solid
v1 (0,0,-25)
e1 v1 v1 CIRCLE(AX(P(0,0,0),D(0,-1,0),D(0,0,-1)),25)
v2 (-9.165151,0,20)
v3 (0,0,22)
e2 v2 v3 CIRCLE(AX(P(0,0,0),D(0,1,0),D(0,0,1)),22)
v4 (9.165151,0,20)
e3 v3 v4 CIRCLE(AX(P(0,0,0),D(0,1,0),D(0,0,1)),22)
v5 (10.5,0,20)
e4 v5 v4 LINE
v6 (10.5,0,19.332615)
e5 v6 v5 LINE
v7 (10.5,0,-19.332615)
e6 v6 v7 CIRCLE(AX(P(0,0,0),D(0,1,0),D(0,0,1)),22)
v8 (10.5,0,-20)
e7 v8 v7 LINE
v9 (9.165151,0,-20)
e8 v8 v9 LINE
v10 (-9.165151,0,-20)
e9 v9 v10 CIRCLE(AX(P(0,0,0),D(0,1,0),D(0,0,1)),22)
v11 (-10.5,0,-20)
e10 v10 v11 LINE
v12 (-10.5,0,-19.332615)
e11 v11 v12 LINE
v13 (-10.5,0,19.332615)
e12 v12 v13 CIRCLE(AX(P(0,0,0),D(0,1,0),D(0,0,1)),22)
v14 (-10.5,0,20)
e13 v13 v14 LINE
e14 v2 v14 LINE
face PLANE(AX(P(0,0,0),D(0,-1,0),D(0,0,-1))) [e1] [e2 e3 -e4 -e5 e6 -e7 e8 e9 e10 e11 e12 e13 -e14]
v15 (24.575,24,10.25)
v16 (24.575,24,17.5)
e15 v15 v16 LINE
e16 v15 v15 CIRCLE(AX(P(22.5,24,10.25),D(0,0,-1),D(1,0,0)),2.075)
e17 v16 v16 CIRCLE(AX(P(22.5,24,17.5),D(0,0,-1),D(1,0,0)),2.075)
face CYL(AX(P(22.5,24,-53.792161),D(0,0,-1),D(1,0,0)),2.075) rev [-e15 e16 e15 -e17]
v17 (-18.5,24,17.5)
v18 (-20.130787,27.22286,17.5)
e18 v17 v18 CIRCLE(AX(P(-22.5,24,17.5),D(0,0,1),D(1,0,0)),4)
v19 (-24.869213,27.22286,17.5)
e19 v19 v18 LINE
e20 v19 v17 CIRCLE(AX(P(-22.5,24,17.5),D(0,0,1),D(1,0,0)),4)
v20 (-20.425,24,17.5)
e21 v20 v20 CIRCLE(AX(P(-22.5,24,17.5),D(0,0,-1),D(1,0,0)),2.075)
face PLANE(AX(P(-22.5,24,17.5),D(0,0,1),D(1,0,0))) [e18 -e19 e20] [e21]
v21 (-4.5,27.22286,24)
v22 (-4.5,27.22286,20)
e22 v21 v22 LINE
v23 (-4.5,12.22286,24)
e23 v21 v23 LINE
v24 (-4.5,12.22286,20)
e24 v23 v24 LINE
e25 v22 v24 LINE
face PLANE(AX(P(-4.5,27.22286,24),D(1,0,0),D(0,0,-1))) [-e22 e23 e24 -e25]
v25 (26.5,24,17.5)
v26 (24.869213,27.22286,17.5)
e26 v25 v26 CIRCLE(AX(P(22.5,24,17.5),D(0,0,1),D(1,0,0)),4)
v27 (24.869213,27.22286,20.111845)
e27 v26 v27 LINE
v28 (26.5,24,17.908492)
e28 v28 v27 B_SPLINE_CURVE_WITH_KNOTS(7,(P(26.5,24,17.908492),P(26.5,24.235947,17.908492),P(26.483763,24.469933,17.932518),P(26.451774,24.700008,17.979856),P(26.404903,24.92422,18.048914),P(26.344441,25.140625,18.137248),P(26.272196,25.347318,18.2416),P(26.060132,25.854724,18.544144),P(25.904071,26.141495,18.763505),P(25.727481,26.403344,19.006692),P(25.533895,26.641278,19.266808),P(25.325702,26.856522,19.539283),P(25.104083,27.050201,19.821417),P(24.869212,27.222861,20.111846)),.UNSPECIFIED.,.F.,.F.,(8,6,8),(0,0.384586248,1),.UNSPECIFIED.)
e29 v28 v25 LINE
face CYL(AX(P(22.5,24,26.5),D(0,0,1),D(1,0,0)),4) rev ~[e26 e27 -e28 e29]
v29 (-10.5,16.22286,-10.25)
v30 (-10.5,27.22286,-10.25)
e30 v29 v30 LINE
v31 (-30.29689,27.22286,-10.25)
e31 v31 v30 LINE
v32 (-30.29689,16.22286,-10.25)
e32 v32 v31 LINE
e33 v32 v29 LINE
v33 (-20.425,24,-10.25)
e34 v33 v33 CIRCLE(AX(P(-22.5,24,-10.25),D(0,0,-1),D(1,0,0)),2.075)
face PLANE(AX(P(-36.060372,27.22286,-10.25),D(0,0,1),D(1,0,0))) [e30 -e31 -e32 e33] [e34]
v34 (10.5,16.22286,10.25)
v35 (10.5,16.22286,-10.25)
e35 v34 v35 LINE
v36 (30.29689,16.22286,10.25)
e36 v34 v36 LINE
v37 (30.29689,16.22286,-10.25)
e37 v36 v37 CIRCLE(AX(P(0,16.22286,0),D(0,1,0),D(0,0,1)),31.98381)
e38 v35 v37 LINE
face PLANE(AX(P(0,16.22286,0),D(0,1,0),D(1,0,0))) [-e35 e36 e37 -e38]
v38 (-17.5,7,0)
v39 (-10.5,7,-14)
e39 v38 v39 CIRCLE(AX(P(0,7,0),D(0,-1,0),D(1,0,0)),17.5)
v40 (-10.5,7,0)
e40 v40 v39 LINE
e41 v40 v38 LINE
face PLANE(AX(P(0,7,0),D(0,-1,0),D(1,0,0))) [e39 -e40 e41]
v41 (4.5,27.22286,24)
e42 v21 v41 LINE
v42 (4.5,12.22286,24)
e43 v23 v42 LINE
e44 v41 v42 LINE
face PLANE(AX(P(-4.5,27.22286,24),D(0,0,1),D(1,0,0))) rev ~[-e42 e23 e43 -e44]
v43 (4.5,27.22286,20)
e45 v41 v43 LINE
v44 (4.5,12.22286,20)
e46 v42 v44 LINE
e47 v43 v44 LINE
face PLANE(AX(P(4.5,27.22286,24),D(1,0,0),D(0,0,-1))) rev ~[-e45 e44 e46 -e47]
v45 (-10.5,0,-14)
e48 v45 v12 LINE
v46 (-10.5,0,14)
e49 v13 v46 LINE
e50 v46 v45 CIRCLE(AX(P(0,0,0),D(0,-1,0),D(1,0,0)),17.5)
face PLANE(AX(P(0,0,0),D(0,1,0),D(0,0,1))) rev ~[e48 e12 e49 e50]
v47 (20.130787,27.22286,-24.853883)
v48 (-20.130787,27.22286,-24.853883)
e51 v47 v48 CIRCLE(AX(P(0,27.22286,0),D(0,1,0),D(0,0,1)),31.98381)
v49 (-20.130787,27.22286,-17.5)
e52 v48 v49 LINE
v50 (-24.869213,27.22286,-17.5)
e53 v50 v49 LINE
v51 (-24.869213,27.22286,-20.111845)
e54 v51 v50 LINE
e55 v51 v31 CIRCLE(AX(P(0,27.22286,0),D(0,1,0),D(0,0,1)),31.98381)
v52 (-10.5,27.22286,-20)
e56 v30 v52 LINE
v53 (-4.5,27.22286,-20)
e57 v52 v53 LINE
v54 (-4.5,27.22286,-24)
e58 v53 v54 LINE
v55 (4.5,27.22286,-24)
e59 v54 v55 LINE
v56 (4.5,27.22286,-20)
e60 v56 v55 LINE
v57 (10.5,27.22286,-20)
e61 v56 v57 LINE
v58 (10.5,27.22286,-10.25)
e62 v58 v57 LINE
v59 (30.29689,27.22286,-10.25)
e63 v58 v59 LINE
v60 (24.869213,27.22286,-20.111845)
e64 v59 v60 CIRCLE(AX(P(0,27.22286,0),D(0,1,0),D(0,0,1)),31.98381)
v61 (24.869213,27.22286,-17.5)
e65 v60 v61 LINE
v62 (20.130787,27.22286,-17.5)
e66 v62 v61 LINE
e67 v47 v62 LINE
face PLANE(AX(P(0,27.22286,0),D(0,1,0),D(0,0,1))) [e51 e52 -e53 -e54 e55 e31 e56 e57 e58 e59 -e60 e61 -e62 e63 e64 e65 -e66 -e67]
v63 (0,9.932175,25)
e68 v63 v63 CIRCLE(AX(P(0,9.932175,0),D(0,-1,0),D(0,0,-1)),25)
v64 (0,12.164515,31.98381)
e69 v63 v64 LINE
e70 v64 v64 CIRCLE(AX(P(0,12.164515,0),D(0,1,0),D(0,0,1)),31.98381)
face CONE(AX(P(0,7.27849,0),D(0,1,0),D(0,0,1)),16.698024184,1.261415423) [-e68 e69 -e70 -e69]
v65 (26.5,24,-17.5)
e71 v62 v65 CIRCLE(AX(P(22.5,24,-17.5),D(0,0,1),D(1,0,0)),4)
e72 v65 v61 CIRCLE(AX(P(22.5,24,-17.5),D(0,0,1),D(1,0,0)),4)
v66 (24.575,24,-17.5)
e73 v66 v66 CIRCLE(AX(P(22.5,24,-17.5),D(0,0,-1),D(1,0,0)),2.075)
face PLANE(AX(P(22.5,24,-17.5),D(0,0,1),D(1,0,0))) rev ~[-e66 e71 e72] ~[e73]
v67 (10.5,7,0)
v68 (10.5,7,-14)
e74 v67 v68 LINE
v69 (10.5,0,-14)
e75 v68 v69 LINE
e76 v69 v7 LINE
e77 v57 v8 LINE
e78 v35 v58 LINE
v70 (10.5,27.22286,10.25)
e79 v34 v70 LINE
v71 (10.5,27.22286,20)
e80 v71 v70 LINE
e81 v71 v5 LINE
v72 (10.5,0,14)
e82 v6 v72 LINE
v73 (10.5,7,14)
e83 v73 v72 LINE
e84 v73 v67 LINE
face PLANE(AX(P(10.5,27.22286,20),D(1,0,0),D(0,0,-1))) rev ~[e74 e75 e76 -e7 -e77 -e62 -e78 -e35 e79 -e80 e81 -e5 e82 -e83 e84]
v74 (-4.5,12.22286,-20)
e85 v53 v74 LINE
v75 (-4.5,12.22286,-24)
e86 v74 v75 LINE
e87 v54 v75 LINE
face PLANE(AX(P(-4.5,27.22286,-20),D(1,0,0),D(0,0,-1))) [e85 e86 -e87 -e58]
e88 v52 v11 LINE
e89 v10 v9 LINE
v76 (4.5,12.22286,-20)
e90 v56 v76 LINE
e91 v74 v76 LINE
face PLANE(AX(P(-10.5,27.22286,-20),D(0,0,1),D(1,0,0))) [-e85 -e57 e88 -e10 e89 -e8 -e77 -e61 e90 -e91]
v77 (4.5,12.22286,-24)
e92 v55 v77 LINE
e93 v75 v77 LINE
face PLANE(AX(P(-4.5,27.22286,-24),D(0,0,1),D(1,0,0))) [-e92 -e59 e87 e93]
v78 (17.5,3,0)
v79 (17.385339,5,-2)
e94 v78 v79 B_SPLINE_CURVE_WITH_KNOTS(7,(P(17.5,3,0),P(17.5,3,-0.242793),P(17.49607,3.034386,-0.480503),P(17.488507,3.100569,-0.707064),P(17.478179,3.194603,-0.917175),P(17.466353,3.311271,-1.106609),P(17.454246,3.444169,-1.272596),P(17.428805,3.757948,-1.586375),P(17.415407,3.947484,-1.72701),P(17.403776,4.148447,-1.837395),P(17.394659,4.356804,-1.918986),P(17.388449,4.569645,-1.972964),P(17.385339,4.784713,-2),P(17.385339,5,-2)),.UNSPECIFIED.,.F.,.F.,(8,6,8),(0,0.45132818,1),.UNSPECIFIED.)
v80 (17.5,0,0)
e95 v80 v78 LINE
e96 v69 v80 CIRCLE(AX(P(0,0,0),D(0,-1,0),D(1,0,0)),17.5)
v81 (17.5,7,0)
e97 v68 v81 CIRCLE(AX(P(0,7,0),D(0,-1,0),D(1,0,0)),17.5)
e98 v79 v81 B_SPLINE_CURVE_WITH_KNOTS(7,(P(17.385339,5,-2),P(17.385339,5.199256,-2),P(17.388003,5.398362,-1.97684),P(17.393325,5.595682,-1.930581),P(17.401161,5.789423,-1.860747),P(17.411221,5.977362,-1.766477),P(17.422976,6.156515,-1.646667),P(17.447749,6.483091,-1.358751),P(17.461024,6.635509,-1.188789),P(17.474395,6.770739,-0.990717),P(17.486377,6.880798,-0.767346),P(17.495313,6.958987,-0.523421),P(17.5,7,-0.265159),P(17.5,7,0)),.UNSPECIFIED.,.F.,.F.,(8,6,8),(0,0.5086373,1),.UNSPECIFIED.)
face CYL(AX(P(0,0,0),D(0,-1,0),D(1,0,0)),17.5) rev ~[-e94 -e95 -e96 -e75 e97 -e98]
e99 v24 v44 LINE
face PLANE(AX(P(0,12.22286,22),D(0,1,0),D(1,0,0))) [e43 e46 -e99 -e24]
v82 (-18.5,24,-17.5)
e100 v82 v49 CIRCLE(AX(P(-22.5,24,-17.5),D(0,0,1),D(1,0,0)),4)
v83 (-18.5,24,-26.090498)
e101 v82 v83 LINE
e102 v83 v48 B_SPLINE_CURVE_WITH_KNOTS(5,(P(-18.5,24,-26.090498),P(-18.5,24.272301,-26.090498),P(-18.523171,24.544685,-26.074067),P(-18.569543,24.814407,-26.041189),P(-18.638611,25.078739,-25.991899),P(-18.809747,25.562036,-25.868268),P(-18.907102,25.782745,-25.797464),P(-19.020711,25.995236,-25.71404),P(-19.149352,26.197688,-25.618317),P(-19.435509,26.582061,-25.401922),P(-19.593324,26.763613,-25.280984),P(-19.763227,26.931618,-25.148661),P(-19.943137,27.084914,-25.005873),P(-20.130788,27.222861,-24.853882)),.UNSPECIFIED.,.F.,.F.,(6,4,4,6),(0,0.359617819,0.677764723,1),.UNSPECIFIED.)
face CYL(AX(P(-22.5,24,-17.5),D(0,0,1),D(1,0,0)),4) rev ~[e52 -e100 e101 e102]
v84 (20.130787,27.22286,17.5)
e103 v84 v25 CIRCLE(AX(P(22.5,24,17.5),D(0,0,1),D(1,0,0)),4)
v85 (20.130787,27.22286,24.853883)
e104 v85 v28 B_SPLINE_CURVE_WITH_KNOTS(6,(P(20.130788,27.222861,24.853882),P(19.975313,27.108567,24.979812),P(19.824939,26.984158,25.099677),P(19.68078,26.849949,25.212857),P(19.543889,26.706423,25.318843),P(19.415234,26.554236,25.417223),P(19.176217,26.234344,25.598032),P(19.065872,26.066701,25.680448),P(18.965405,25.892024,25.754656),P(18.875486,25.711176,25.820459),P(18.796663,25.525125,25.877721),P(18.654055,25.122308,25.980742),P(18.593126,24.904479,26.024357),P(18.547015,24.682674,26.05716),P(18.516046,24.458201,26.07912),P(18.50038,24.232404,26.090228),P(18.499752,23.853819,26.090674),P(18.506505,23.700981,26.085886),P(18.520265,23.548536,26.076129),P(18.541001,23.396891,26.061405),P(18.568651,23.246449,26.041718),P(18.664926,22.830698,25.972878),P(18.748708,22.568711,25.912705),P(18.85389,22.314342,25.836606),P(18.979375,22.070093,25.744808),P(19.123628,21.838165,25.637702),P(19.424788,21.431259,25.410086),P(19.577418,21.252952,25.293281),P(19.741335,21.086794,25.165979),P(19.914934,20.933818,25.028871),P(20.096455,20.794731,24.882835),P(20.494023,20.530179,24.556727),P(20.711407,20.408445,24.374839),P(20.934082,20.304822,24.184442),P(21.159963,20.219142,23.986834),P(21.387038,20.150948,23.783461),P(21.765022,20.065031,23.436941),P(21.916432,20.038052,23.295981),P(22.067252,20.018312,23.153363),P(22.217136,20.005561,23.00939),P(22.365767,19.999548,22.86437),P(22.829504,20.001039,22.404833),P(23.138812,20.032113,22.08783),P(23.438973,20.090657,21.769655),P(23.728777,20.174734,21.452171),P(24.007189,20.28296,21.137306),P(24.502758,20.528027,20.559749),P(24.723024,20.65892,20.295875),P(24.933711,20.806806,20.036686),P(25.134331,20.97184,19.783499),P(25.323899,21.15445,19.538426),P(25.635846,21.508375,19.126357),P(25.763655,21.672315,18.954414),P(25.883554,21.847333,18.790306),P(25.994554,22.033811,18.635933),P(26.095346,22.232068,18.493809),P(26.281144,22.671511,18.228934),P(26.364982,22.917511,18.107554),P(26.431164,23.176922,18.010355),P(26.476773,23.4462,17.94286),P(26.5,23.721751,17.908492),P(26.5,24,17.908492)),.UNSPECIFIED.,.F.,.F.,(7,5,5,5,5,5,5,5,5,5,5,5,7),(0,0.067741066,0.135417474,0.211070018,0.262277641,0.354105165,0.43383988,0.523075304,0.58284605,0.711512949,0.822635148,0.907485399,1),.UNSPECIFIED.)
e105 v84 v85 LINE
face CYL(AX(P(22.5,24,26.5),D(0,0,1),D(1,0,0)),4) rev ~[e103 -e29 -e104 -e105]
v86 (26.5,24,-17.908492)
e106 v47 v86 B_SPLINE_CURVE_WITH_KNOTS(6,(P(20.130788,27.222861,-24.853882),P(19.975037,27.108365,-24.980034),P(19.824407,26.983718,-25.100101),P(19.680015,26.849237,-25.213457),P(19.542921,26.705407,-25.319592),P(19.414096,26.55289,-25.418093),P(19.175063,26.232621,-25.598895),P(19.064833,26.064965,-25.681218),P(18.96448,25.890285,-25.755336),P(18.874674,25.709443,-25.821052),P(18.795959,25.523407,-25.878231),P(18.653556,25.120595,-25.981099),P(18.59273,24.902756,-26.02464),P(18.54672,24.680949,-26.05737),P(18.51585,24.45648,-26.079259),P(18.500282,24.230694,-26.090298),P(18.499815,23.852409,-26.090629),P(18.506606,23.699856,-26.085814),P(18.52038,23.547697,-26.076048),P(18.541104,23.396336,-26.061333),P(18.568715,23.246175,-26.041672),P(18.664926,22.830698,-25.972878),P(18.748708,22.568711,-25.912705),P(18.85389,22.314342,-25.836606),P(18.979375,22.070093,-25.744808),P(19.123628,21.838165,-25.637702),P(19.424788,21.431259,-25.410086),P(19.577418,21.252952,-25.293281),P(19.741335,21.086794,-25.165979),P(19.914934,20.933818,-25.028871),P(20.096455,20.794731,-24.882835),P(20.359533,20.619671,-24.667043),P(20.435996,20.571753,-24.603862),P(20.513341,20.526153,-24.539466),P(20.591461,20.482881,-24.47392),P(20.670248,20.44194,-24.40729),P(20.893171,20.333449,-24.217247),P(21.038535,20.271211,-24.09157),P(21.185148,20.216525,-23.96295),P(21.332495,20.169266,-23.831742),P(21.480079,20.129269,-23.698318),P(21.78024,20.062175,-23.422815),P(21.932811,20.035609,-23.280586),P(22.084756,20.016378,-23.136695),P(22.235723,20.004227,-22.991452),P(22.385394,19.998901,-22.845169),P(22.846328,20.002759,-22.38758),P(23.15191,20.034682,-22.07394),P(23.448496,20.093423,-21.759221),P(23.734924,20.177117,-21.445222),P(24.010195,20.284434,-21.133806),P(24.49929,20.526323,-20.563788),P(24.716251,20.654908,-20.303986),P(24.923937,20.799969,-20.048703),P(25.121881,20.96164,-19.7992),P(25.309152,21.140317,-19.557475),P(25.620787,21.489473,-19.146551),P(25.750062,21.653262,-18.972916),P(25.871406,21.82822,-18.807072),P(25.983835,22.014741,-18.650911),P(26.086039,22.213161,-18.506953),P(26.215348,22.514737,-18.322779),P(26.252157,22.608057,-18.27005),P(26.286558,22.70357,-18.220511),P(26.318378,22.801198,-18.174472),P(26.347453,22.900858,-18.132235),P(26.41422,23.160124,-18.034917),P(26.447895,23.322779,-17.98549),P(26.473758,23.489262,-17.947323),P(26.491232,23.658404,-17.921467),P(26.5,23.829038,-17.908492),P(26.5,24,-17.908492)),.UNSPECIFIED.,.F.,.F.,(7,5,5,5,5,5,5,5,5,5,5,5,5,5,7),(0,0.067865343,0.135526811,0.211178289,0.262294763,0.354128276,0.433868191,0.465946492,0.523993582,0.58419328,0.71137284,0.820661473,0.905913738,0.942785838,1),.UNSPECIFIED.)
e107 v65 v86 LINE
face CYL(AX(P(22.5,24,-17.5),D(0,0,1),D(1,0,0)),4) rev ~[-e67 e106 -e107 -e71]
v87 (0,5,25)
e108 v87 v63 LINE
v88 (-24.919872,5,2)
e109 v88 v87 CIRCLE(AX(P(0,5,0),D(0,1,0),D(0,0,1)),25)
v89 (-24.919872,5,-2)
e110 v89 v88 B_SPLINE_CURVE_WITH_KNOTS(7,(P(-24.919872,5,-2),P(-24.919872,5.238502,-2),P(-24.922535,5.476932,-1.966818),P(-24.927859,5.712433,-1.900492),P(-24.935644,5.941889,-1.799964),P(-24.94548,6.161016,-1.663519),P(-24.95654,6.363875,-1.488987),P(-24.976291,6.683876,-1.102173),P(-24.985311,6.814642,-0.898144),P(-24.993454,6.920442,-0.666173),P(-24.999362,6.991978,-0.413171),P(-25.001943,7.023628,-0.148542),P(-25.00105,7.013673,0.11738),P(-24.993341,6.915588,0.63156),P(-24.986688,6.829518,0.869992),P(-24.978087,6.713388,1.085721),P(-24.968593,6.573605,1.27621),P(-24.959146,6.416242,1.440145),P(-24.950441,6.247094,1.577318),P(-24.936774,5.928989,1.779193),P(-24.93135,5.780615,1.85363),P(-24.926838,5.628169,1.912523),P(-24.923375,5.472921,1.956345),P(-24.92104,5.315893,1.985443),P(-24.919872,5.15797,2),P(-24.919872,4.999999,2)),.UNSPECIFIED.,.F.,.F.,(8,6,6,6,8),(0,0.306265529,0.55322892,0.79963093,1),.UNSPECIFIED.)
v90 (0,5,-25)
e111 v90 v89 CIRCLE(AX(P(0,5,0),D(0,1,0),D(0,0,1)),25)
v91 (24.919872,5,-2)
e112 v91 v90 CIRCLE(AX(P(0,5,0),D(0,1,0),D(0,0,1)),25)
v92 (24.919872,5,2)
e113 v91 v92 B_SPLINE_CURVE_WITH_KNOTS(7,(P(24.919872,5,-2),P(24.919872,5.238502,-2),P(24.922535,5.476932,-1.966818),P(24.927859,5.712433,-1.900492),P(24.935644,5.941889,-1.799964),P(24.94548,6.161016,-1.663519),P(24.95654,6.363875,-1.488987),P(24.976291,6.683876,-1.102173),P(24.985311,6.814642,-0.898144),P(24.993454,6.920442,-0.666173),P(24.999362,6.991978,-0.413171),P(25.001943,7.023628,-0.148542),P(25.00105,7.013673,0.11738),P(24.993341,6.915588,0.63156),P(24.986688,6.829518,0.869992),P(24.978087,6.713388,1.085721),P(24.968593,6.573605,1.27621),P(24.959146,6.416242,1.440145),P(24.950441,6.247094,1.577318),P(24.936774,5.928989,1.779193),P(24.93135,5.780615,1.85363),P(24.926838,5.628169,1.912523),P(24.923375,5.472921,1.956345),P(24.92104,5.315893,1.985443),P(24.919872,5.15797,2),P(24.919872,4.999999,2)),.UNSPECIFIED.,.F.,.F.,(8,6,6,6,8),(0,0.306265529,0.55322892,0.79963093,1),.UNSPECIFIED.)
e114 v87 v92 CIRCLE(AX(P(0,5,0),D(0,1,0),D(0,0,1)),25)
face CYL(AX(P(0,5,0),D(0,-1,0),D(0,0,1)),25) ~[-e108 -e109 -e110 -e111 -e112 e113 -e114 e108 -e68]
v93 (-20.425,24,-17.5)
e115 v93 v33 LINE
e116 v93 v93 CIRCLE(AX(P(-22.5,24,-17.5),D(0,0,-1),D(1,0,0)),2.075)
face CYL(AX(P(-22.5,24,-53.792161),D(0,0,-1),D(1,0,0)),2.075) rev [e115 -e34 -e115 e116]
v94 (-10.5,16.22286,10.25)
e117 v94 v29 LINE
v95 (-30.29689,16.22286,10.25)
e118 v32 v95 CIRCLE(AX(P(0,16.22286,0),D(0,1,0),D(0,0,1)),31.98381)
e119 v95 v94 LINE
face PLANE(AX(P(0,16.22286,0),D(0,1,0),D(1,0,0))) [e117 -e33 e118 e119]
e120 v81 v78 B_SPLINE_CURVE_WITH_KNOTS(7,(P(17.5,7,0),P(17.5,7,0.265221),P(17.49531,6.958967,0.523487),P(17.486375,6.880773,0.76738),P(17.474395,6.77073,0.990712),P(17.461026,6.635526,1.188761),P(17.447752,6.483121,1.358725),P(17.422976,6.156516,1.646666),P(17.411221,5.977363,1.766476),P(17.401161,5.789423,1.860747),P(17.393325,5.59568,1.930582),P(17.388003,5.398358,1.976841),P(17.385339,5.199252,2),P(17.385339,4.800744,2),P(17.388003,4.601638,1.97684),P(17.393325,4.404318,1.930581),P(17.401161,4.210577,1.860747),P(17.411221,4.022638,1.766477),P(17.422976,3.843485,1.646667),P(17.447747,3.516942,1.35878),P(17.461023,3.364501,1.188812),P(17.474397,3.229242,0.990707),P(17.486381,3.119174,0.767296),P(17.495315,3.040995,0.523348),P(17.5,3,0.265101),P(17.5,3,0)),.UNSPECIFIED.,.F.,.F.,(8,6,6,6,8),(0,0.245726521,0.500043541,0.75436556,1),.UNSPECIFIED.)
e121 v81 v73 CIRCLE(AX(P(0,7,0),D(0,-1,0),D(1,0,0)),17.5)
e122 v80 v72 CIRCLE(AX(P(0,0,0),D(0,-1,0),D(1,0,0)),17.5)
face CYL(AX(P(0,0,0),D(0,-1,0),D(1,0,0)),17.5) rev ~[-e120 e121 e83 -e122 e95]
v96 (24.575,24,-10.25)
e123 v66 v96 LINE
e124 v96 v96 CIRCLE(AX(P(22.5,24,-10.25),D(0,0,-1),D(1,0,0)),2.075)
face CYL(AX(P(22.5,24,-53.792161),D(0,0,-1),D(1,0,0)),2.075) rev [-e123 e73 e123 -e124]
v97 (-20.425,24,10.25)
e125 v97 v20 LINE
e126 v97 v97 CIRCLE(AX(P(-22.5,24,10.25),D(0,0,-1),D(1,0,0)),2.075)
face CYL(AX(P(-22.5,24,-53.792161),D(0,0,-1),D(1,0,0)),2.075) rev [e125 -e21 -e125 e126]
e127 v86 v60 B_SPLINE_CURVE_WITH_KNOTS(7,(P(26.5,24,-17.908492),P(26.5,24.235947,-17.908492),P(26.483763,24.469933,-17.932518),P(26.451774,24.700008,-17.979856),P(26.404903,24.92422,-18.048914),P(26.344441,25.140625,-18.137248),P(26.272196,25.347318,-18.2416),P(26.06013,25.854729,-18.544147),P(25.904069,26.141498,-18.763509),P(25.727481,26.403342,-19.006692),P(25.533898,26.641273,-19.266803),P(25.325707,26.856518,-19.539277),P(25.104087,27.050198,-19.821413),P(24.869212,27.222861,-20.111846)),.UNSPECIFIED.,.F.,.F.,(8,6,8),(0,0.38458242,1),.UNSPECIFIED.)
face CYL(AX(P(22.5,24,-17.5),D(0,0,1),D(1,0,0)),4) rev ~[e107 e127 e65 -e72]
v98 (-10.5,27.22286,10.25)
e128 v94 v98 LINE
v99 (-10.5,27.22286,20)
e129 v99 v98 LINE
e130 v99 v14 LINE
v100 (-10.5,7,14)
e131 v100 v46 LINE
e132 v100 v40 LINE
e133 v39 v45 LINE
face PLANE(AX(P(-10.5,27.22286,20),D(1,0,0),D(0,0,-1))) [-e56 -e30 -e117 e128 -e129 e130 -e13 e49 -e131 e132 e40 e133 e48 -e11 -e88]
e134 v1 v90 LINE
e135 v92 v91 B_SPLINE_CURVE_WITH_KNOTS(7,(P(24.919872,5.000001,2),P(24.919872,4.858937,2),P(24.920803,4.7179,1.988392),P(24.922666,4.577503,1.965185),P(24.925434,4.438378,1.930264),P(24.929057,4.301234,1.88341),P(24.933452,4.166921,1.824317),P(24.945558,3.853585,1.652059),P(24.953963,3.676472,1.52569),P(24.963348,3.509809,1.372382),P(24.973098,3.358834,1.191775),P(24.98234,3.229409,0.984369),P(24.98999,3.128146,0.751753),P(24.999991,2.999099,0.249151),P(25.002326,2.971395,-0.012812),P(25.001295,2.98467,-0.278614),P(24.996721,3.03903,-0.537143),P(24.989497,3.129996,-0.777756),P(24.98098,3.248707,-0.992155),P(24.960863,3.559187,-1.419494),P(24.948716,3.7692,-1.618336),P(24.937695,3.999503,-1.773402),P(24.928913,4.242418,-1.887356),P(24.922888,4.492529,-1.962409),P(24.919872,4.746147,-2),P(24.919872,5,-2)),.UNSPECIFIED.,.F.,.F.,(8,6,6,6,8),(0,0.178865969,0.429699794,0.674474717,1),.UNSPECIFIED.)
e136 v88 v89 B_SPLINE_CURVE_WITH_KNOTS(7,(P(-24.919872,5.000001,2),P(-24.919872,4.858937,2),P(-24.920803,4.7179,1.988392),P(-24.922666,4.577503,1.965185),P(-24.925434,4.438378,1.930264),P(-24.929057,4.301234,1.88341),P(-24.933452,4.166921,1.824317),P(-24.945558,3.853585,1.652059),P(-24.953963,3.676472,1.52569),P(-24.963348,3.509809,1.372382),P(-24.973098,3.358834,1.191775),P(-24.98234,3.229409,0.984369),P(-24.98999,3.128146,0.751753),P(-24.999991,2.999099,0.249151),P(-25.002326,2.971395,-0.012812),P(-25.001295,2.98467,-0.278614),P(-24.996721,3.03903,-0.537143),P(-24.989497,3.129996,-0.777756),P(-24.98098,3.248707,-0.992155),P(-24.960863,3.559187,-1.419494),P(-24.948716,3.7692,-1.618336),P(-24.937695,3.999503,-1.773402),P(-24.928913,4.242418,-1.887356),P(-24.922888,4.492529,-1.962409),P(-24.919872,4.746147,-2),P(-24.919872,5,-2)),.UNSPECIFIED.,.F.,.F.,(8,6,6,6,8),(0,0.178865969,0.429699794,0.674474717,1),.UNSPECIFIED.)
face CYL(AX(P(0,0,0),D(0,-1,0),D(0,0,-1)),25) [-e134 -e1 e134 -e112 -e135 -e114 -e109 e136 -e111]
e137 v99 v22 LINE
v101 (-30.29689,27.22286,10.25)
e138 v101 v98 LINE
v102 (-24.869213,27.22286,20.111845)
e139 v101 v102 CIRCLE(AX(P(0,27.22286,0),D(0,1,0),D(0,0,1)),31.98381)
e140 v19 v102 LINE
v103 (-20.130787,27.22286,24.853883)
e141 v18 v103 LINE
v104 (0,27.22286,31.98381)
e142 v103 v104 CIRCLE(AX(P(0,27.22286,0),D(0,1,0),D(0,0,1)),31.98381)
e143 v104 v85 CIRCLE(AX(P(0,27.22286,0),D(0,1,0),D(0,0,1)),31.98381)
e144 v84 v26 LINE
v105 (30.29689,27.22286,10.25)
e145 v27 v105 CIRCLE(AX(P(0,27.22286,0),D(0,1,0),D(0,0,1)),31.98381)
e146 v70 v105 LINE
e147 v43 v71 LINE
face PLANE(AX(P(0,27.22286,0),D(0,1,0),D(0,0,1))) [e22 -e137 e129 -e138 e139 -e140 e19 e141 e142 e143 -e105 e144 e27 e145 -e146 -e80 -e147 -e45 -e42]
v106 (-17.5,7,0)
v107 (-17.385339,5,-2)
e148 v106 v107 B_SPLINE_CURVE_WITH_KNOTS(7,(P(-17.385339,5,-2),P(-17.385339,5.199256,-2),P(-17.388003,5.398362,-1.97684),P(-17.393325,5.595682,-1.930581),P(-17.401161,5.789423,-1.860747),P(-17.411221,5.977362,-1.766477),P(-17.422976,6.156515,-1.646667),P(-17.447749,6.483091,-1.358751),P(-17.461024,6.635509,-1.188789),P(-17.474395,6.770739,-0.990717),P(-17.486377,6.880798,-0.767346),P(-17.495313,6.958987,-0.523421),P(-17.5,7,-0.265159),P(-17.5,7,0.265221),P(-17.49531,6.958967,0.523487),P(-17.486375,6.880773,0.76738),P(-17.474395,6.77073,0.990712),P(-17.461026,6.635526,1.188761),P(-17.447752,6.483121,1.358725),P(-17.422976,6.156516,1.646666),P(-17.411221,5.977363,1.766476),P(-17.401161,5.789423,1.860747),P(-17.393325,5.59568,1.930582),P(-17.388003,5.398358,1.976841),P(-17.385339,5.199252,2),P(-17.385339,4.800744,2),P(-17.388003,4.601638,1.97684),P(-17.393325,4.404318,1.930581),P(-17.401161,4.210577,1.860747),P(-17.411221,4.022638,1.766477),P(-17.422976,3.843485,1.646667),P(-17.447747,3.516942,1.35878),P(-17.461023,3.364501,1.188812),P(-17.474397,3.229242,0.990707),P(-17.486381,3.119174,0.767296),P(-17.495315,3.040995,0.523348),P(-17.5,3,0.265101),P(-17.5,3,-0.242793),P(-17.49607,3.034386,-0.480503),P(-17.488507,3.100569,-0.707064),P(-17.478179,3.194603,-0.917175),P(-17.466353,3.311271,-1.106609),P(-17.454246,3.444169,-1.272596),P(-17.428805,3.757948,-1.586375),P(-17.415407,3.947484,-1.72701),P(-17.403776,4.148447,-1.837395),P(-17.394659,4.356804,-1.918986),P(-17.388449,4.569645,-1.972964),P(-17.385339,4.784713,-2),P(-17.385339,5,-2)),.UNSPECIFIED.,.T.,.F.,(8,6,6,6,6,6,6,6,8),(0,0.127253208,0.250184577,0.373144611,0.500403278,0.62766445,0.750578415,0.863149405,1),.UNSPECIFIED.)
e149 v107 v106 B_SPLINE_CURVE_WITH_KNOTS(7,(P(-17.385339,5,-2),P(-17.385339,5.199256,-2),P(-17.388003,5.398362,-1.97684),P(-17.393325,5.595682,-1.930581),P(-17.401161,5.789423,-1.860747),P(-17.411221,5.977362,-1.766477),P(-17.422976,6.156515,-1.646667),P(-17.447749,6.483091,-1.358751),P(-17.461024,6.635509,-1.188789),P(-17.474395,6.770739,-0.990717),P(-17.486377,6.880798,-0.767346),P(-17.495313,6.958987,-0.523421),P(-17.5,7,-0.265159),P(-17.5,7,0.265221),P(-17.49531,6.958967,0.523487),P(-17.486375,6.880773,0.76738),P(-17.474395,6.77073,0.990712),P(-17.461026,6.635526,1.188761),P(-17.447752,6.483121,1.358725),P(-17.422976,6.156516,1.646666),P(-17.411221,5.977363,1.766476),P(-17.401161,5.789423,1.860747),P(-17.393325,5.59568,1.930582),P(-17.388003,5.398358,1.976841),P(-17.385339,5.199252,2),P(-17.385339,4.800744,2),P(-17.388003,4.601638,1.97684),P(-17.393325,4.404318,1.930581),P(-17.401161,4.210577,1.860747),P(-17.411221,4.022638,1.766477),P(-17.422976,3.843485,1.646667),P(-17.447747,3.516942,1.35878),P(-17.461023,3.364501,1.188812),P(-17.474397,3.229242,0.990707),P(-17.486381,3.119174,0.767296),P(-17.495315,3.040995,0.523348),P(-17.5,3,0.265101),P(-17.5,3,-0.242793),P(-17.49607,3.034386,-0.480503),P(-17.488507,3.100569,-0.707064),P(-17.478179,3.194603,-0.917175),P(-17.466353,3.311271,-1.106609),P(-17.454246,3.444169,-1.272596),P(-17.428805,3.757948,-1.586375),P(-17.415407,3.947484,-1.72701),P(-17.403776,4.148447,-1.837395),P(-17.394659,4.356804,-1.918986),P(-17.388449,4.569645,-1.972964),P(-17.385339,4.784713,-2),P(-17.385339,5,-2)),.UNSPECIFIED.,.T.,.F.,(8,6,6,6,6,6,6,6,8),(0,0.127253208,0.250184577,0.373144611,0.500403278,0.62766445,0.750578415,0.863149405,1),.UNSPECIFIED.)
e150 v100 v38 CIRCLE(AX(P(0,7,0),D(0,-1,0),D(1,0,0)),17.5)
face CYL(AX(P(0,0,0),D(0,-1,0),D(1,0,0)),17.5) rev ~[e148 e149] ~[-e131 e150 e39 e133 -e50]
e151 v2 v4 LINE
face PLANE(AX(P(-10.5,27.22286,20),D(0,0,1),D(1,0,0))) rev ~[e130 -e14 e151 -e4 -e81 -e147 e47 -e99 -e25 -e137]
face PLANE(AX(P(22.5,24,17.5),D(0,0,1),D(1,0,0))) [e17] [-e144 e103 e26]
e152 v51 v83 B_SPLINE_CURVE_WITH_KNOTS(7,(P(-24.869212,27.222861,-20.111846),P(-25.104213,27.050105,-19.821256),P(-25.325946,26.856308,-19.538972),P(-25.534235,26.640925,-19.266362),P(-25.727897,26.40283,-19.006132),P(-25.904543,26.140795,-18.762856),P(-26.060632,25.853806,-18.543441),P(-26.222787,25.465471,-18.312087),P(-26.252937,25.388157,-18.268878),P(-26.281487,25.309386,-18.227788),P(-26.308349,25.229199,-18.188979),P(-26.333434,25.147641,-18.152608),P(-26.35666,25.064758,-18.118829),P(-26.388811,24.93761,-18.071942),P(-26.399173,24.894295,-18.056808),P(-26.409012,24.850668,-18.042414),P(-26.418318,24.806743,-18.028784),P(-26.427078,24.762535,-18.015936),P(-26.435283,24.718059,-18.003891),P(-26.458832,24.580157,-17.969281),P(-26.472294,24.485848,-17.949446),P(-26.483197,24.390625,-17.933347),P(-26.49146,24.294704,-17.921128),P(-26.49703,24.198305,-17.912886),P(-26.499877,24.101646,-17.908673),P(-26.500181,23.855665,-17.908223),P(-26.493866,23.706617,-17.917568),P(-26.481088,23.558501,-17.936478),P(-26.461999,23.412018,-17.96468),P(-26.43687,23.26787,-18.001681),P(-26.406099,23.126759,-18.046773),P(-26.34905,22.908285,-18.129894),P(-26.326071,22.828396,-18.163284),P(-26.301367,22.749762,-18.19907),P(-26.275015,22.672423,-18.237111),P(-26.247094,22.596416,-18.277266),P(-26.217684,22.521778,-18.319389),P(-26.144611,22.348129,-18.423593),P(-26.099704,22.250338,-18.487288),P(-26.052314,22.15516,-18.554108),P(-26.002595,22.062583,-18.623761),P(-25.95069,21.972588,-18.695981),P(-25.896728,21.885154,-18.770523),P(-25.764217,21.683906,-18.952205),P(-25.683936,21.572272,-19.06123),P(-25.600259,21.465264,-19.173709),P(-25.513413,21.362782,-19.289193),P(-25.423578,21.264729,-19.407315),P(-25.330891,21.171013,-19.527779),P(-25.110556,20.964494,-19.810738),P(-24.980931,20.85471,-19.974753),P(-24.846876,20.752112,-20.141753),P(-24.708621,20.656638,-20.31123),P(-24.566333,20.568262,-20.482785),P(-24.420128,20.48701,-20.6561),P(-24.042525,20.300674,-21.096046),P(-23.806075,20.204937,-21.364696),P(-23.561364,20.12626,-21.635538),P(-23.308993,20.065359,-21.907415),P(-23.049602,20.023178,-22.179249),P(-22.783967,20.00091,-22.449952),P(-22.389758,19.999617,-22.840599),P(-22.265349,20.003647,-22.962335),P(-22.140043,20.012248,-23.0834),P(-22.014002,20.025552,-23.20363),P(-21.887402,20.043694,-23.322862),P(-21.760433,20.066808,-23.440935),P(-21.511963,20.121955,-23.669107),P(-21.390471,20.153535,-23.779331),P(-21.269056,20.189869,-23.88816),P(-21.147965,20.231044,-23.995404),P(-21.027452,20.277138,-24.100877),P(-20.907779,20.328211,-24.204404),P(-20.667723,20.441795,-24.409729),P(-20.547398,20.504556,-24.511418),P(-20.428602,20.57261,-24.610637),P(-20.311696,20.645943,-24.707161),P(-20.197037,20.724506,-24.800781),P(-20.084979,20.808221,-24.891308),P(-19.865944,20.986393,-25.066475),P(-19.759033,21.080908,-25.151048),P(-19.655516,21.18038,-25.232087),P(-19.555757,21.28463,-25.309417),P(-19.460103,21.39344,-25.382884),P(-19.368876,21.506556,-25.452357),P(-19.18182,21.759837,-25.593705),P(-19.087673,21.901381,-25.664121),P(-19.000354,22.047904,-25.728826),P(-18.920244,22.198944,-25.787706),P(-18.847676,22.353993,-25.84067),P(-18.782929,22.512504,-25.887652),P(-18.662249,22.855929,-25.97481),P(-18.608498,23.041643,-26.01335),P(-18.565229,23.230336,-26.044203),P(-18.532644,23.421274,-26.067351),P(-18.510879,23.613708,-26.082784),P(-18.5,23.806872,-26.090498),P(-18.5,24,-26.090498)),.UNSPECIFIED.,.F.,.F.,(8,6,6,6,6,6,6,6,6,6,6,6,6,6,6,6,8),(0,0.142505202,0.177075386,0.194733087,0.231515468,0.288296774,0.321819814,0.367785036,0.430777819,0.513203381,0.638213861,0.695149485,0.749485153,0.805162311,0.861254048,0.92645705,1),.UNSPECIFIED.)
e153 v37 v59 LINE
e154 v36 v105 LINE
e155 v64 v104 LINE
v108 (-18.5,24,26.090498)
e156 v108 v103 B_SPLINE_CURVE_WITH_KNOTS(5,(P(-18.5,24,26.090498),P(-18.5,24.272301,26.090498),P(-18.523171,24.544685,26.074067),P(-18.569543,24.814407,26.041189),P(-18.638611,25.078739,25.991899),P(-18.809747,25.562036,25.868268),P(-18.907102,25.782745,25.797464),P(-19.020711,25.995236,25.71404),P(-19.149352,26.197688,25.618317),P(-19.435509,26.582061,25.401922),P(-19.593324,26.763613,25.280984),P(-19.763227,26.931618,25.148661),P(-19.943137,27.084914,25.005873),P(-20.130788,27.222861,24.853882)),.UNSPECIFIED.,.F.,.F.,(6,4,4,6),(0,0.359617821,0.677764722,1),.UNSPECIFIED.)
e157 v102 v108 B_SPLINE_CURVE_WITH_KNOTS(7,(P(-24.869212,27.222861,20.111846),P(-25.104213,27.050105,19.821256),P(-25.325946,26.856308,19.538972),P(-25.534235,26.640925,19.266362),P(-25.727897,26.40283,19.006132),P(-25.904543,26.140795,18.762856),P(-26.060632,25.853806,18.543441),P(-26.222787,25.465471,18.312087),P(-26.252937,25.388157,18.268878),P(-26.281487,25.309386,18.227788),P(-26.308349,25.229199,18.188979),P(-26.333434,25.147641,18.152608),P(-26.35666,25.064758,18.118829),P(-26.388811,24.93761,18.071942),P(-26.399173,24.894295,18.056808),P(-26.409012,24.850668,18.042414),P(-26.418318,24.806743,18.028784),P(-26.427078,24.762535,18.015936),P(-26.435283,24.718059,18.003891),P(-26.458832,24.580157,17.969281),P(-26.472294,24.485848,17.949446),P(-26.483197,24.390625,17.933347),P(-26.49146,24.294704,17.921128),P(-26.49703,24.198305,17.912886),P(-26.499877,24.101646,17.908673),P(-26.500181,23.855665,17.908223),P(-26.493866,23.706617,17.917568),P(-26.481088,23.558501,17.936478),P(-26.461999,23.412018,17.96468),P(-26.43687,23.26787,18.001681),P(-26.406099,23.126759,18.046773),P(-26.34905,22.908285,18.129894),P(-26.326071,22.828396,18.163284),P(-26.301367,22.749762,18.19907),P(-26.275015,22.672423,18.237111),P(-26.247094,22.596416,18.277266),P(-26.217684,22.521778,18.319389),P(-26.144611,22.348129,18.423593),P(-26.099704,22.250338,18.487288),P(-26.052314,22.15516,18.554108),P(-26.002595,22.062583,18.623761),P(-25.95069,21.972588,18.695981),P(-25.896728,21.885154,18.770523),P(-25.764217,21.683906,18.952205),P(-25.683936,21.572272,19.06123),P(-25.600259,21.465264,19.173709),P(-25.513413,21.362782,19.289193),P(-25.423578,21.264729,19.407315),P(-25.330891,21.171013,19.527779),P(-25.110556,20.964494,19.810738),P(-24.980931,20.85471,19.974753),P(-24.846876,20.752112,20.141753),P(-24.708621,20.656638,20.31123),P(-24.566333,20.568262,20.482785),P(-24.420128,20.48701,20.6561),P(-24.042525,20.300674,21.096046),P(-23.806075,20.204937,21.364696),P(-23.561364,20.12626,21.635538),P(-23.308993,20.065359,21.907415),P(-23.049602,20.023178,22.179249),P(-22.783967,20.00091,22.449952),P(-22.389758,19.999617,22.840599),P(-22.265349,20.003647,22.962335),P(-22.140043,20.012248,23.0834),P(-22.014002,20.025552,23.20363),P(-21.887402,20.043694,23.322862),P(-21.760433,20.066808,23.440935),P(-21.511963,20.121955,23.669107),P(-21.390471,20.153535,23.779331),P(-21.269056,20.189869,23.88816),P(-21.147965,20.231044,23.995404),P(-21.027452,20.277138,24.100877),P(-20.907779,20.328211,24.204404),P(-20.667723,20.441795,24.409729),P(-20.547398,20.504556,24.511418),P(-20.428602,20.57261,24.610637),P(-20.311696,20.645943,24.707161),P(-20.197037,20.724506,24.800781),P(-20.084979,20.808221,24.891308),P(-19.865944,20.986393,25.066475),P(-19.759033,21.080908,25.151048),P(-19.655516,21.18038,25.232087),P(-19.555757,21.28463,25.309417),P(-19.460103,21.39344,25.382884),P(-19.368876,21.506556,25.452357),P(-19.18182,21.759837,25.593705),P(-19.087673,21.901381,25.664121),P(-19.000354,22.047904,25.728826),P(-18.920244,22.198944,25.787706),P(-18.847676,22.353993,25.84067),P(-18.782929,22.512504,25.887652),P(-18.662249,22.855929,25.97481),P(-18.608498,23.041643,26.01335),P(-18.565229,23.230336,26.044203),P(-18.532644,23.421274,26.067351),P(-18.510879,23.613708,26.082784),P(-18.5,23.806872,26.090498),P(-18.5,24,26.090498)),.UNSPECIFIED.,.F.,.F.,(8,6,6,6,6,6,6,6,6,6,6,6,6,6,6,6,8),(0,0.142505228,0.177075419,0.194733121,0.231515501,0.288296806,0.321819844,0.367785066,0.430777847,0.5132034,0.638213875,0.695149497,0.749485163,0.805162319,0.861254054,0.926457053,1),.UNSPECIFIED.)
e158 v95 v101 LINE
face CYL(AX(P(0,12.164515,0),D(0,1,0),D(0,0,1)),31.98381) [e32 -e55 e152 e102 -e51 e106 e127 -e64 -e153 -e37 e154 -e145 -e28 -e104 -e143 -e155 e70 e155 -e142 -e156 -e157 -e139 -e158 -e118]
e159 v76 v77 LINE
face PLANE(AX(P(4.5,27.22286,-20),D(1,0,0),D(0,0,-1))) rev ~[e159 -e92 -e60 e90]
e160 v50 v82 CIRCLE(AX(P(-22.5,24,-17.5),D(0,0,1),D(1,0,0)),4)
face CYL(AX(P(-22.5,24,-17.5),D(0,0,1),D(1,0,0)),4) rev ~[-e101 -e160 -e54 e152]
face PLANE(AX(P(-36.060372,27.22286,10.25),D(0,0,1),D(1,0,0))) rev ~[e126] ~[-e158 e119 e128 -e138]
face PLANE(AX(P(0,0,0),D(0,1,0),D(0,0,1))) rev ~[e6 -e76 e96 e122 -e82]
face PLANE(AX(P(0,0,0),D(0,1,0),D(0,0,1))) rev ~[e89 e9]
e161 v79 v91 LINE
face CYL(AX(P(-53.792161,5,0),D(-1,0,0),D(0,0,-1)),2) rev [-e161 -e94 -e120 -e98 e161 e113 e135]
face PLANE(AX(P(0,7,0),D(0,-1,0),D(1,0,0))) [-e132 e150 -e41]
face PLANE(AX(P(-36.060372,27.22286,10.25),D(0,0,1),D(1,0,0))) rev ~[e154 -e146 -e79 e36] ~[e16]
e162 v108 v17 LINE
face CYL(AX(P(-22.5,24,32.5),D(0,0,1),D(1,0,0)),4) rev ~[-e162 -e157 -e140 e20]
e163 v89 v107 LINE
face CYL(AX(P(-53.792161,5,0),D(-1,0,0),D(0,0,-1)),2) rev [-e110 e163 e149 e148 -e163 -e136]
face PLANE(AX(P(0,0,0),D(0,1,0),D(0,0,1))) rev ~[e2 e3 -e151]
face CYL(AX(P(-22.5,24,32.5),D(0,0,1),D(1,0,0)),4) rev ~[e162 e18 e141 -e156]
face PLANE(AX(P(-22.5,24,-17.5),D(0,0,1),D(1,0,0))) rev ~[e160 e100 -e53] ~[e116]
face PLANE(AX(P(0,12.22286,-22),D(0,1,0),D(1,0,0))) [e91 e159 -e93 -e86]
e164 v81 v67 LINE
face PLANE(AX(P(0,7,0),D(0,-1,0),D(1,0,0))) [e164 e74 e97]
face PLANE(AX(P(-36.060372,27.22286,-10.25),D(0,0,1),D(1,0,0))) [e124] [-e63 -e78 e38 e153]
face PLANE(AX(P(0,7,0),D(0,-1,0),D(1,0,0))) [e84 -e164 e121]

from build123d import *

# Parameters (mm, degrees)
SKETCH1_R               = 22
BOSS_EXTRUDE1_DEPTH     = 5
SKETCH2_R               = 25
BOSS_EXTRUDE2_DEPTH     = 5
SKETCH3_R               = 7.5
CUT_EXTRUDE1_DEPTH      = 16
SKETCH5_W               = 72.120743336
SKETCH5_H               = 20.5
CUT_EXTRUDE2_DEPTH      = 11
CUT_EXTRUDE3_DEPTH      = 53.792161073
CUT_EXTRUDE3_DEPTH_BACK = 53.792161073
SKETCH6_R               = 2.075
BOSS_EXTRUDE3_START     = 5
SKETCH7_R               = 25
SKETCH7_R_2             = 12.5
BOSS_EXTRUDE3_DEPTH     = 5
CUT_EXTRUDE4_DEPTH      = 53.792161246
CUT_EXTRUDE4_DEPTH_BACK = 53.792161246
SKETCH8_R               = 2
SKETCH9_W               = 21
SKETCH9_H               = 40
CUT_EXTRUDE5_DEPTH      = 31
SKETCH11_R              = 17.5
CUT_EXTRUDE7_DEPTH      = 7
CUT_EXTRUDE10_START     = 26.5
SKETCH14_R              = 4
CUT_EXTRUDE10_DEPTH     = 9
SKETCH21_W              = 9
SKETCH21_H              = 4
CUT_EXTRUDE12_DEPTH     = 15
SKETCH22_W              = 9
SKETCH22_H              = 4
CUT_EXTRUDE13_DEPTH     = 15
CUT_EXTRUDE14_START     = -17.5
SKETCH24_R              = 4
CUT_EXTRUDE14_DEPTH     = 15
CUT_EXTRUDE15_START     = -17.5
SKETCH25_R              = 4
CUT_EXTRUDE15_DEPTH     = 15
CUT_EXTRUDE16_START     = 32.5
SKETCH26_R              = 4
CUT_EXTRUDE16_DEPTH     = 15


with BuildPart() as part:
    # Sketch1 → Boss-Extrude1 (new body)
    with BuildSketch(Plane(origin=(0, 0, 0), x_dir=(1, 0, 0), z_dir=(0, 1, 0))):
        Circle(SKETCH1_R)
    extrude(amount=BOSS_EXTRUDE1_DEPTH)

    # Sketch2 → Boss-Extrude2 (add)
    with BuildSketch(Plane(origin=(0, 5, 0), x_dir=(1, 0, 0), z_dir=(0, 1, 0))):
        Circle(SKETCH2_R)
    extrude(amount=BOSS_EXTRUDE2_DEPTH)

    # Sketch3 → Cut-Extrude1 (cut)
    with BuildSketch(Plane(origin=(0, 10, 0), x_dir=(1, 0, 0), z_dir=(0, 1, 0))):
        Circle(SKETCH3_R)
    extrude(amount=-CUT_EXTRUDE1_DEPTH, mode=Mode.SUBTRACT)

    # Sketch4 → Revolve1 (revolve)
    with BuildSketch(Plane(origin=(0, 0, 0), x_dir=(0, 0, -1), z_dir=(1, 0, 0))):
        Polygon((-9.617585302, 7.278489703), (-16.698024184, 7.278489703), (-31.98380954, 12.164514858), (-31.98380954, 27.222860345), (-9.617585302, 27.222860345), align=None)
    revolve(axis=Axis((0, 0, 0), (0, 1, 0)))

    # Sketch5 → Cut-Extrude2 (cut)
    with BuildSketch(Plane(origin=(0, 27.222860345, 0), x_dir=(1, 0, 0), z_dir=(0, 1, 0))):
        Rectangle(SKETCH5_W, SKETCH5_H)
    extrude(amount=-CUT_EXTRUDE2_DEPTH, mode=Mode.SUBTRACT)

    # Sketch6 → Cut-Extrude3 (cut, two sides: drawn at the far end of the back side and taken through both)
    with BuildSketch(Plane.XY.offset(-CUT_EXTRUDE3_DEPTH_BACK)):
        with Locations((-22.5, 24)):
            Circle(SKETCH6_R)
        with Locations((22.5, 24)):
            Circle(SKETCH6_R)
    extrude(amount=CUT_EXTRUDE3_DEPTH + CUT_EXTRUDE3_DEPTH_BACK, mode=Mode.SUBTRACT)

    # Sketch7 → Boss-Extrude3 (add)
    with BuildSketch(Plane.XZ.offset(-5).offset(BOSS_EXTRUDE3_START)):
        Circle(SKETCH7_R)
        Circle(SKETCH7_R_2, mode=Mode.SUBTRACT)
    extrude(amount=-BOSS_EXTRUDE3_DEPTH)

    # Sketch8 → Cut-Extrude4 (cut, two sides: drawn at the far end of the back side and taken through both)
    with BuildSketch(Plane(origin=(0, 0, 0), x_dir=(0, 0, -1), z_dir=(1, 0, 0)).offset(-CUT_EXTRUDE4_DEPTH_BACK)):
        with Locations((0, 5)):
            Circle(SKETCH8_R)
    extrude(amount=CUT_EXTRUDE4_DEPTH + CUT_EXTRUDE4_DEPTH_BACK, mode=Mode.SUBTRACT)

    # Sketch9 → Cut-Extrude5 (cut)
    with BuildSketch(Plane(origin=(0, 27.222860345, 0), x_dir=(1, 0, 0), z_dir=(0, 1, 0))):
        Rectangle(SKETCH9_W, SKETCH9_H)
    extrude(amount=-CUT_EXTRUDE5_DEPTH, mode=Mode.SUBTRACT)

    # Sketch11 → Cut-Extrude7 (cut)
    with BuildSketch(Plane.XZ):
        Circle(SKETCH11_R)
    extrude(amount=-CUT_EXTRUDE7_DEPTH, mode=Mode.SUBTRACT)

    # Sketch14 → Cut-Extrude10 (cut)
    with BuildSketch(Plane.XY.offset(CUT_EXTRUDE10_START)):
        with Locations((22.5, 24)):
            Circle(SKETCH14_R)
    extrude(amount=-CUT_EXTRUDE10_DEPTH, mode=Mode.SUBTRACT)

    # Sketch21 → Cut-Extrude12 (cut)
    with BuildSketch(Plane(origin=(0, 27.222860345, 0), x_dir=(1, 0, 0), z_dir=(0, 1, 0))):
        with Locations((0, -22)):
            Rectangle(SKETCH21_W, SKETCH21_H)
    extrude(amount=-CUT_EXTRUDE12_DEPTH, mode=Mode.SUBTRACT)

    # Sketch22 → Cut-Extrude13 (cut)
    with BuildSketch(Plane(origin=(0, 27.222860345, 0), x_dir=(1, 0, 0), z_dir=(0, 1, 0))):
        with Locations((0, 22)):
            Rectangle(SKETCH22_W, SKETCH22_H)
    extrude(amount=-CUT_EXTRUDE13_DEPTH, mode=Mode.SUBTRACT)

    # Sketch24 → Cut-Extrude14 (cut)
    with BuildSketch(Plane.XY.offset(CUT_EXTRUDE14_START)):
        with Locations((22.5, 24)):
            Circle(SKETCH24_R)
    extrude(amount=-CUT_EXTRUDE14_DEPTH, mode=Mode.SUBTRACT)

    # Sketch25 → Cut-Extrude15 (cut)
    with BuildSketch(Plane.XY.offset(CUT_EXTRUDE15_START)):
        with Locations((-22.5, 24)):
            Circle(SKETCH25_R)
    extrude(amount=-CUT_EXTRUDE15_DEPTH, mode=Mode.SUBTRACT)

    # Sketch26 → Cut-Extrude16 (cut)
    with BuildSketch(Plane.XY.offset(CUT_EXTRUDE16_START)):
        with Locations((-22.5, 24)):
            Circle(SKETCH26_R)
    extrude(amount=-CUT_EXTRUDE16_DEPTH, mode=Mode.SUBTRACT)


solid = part.part
